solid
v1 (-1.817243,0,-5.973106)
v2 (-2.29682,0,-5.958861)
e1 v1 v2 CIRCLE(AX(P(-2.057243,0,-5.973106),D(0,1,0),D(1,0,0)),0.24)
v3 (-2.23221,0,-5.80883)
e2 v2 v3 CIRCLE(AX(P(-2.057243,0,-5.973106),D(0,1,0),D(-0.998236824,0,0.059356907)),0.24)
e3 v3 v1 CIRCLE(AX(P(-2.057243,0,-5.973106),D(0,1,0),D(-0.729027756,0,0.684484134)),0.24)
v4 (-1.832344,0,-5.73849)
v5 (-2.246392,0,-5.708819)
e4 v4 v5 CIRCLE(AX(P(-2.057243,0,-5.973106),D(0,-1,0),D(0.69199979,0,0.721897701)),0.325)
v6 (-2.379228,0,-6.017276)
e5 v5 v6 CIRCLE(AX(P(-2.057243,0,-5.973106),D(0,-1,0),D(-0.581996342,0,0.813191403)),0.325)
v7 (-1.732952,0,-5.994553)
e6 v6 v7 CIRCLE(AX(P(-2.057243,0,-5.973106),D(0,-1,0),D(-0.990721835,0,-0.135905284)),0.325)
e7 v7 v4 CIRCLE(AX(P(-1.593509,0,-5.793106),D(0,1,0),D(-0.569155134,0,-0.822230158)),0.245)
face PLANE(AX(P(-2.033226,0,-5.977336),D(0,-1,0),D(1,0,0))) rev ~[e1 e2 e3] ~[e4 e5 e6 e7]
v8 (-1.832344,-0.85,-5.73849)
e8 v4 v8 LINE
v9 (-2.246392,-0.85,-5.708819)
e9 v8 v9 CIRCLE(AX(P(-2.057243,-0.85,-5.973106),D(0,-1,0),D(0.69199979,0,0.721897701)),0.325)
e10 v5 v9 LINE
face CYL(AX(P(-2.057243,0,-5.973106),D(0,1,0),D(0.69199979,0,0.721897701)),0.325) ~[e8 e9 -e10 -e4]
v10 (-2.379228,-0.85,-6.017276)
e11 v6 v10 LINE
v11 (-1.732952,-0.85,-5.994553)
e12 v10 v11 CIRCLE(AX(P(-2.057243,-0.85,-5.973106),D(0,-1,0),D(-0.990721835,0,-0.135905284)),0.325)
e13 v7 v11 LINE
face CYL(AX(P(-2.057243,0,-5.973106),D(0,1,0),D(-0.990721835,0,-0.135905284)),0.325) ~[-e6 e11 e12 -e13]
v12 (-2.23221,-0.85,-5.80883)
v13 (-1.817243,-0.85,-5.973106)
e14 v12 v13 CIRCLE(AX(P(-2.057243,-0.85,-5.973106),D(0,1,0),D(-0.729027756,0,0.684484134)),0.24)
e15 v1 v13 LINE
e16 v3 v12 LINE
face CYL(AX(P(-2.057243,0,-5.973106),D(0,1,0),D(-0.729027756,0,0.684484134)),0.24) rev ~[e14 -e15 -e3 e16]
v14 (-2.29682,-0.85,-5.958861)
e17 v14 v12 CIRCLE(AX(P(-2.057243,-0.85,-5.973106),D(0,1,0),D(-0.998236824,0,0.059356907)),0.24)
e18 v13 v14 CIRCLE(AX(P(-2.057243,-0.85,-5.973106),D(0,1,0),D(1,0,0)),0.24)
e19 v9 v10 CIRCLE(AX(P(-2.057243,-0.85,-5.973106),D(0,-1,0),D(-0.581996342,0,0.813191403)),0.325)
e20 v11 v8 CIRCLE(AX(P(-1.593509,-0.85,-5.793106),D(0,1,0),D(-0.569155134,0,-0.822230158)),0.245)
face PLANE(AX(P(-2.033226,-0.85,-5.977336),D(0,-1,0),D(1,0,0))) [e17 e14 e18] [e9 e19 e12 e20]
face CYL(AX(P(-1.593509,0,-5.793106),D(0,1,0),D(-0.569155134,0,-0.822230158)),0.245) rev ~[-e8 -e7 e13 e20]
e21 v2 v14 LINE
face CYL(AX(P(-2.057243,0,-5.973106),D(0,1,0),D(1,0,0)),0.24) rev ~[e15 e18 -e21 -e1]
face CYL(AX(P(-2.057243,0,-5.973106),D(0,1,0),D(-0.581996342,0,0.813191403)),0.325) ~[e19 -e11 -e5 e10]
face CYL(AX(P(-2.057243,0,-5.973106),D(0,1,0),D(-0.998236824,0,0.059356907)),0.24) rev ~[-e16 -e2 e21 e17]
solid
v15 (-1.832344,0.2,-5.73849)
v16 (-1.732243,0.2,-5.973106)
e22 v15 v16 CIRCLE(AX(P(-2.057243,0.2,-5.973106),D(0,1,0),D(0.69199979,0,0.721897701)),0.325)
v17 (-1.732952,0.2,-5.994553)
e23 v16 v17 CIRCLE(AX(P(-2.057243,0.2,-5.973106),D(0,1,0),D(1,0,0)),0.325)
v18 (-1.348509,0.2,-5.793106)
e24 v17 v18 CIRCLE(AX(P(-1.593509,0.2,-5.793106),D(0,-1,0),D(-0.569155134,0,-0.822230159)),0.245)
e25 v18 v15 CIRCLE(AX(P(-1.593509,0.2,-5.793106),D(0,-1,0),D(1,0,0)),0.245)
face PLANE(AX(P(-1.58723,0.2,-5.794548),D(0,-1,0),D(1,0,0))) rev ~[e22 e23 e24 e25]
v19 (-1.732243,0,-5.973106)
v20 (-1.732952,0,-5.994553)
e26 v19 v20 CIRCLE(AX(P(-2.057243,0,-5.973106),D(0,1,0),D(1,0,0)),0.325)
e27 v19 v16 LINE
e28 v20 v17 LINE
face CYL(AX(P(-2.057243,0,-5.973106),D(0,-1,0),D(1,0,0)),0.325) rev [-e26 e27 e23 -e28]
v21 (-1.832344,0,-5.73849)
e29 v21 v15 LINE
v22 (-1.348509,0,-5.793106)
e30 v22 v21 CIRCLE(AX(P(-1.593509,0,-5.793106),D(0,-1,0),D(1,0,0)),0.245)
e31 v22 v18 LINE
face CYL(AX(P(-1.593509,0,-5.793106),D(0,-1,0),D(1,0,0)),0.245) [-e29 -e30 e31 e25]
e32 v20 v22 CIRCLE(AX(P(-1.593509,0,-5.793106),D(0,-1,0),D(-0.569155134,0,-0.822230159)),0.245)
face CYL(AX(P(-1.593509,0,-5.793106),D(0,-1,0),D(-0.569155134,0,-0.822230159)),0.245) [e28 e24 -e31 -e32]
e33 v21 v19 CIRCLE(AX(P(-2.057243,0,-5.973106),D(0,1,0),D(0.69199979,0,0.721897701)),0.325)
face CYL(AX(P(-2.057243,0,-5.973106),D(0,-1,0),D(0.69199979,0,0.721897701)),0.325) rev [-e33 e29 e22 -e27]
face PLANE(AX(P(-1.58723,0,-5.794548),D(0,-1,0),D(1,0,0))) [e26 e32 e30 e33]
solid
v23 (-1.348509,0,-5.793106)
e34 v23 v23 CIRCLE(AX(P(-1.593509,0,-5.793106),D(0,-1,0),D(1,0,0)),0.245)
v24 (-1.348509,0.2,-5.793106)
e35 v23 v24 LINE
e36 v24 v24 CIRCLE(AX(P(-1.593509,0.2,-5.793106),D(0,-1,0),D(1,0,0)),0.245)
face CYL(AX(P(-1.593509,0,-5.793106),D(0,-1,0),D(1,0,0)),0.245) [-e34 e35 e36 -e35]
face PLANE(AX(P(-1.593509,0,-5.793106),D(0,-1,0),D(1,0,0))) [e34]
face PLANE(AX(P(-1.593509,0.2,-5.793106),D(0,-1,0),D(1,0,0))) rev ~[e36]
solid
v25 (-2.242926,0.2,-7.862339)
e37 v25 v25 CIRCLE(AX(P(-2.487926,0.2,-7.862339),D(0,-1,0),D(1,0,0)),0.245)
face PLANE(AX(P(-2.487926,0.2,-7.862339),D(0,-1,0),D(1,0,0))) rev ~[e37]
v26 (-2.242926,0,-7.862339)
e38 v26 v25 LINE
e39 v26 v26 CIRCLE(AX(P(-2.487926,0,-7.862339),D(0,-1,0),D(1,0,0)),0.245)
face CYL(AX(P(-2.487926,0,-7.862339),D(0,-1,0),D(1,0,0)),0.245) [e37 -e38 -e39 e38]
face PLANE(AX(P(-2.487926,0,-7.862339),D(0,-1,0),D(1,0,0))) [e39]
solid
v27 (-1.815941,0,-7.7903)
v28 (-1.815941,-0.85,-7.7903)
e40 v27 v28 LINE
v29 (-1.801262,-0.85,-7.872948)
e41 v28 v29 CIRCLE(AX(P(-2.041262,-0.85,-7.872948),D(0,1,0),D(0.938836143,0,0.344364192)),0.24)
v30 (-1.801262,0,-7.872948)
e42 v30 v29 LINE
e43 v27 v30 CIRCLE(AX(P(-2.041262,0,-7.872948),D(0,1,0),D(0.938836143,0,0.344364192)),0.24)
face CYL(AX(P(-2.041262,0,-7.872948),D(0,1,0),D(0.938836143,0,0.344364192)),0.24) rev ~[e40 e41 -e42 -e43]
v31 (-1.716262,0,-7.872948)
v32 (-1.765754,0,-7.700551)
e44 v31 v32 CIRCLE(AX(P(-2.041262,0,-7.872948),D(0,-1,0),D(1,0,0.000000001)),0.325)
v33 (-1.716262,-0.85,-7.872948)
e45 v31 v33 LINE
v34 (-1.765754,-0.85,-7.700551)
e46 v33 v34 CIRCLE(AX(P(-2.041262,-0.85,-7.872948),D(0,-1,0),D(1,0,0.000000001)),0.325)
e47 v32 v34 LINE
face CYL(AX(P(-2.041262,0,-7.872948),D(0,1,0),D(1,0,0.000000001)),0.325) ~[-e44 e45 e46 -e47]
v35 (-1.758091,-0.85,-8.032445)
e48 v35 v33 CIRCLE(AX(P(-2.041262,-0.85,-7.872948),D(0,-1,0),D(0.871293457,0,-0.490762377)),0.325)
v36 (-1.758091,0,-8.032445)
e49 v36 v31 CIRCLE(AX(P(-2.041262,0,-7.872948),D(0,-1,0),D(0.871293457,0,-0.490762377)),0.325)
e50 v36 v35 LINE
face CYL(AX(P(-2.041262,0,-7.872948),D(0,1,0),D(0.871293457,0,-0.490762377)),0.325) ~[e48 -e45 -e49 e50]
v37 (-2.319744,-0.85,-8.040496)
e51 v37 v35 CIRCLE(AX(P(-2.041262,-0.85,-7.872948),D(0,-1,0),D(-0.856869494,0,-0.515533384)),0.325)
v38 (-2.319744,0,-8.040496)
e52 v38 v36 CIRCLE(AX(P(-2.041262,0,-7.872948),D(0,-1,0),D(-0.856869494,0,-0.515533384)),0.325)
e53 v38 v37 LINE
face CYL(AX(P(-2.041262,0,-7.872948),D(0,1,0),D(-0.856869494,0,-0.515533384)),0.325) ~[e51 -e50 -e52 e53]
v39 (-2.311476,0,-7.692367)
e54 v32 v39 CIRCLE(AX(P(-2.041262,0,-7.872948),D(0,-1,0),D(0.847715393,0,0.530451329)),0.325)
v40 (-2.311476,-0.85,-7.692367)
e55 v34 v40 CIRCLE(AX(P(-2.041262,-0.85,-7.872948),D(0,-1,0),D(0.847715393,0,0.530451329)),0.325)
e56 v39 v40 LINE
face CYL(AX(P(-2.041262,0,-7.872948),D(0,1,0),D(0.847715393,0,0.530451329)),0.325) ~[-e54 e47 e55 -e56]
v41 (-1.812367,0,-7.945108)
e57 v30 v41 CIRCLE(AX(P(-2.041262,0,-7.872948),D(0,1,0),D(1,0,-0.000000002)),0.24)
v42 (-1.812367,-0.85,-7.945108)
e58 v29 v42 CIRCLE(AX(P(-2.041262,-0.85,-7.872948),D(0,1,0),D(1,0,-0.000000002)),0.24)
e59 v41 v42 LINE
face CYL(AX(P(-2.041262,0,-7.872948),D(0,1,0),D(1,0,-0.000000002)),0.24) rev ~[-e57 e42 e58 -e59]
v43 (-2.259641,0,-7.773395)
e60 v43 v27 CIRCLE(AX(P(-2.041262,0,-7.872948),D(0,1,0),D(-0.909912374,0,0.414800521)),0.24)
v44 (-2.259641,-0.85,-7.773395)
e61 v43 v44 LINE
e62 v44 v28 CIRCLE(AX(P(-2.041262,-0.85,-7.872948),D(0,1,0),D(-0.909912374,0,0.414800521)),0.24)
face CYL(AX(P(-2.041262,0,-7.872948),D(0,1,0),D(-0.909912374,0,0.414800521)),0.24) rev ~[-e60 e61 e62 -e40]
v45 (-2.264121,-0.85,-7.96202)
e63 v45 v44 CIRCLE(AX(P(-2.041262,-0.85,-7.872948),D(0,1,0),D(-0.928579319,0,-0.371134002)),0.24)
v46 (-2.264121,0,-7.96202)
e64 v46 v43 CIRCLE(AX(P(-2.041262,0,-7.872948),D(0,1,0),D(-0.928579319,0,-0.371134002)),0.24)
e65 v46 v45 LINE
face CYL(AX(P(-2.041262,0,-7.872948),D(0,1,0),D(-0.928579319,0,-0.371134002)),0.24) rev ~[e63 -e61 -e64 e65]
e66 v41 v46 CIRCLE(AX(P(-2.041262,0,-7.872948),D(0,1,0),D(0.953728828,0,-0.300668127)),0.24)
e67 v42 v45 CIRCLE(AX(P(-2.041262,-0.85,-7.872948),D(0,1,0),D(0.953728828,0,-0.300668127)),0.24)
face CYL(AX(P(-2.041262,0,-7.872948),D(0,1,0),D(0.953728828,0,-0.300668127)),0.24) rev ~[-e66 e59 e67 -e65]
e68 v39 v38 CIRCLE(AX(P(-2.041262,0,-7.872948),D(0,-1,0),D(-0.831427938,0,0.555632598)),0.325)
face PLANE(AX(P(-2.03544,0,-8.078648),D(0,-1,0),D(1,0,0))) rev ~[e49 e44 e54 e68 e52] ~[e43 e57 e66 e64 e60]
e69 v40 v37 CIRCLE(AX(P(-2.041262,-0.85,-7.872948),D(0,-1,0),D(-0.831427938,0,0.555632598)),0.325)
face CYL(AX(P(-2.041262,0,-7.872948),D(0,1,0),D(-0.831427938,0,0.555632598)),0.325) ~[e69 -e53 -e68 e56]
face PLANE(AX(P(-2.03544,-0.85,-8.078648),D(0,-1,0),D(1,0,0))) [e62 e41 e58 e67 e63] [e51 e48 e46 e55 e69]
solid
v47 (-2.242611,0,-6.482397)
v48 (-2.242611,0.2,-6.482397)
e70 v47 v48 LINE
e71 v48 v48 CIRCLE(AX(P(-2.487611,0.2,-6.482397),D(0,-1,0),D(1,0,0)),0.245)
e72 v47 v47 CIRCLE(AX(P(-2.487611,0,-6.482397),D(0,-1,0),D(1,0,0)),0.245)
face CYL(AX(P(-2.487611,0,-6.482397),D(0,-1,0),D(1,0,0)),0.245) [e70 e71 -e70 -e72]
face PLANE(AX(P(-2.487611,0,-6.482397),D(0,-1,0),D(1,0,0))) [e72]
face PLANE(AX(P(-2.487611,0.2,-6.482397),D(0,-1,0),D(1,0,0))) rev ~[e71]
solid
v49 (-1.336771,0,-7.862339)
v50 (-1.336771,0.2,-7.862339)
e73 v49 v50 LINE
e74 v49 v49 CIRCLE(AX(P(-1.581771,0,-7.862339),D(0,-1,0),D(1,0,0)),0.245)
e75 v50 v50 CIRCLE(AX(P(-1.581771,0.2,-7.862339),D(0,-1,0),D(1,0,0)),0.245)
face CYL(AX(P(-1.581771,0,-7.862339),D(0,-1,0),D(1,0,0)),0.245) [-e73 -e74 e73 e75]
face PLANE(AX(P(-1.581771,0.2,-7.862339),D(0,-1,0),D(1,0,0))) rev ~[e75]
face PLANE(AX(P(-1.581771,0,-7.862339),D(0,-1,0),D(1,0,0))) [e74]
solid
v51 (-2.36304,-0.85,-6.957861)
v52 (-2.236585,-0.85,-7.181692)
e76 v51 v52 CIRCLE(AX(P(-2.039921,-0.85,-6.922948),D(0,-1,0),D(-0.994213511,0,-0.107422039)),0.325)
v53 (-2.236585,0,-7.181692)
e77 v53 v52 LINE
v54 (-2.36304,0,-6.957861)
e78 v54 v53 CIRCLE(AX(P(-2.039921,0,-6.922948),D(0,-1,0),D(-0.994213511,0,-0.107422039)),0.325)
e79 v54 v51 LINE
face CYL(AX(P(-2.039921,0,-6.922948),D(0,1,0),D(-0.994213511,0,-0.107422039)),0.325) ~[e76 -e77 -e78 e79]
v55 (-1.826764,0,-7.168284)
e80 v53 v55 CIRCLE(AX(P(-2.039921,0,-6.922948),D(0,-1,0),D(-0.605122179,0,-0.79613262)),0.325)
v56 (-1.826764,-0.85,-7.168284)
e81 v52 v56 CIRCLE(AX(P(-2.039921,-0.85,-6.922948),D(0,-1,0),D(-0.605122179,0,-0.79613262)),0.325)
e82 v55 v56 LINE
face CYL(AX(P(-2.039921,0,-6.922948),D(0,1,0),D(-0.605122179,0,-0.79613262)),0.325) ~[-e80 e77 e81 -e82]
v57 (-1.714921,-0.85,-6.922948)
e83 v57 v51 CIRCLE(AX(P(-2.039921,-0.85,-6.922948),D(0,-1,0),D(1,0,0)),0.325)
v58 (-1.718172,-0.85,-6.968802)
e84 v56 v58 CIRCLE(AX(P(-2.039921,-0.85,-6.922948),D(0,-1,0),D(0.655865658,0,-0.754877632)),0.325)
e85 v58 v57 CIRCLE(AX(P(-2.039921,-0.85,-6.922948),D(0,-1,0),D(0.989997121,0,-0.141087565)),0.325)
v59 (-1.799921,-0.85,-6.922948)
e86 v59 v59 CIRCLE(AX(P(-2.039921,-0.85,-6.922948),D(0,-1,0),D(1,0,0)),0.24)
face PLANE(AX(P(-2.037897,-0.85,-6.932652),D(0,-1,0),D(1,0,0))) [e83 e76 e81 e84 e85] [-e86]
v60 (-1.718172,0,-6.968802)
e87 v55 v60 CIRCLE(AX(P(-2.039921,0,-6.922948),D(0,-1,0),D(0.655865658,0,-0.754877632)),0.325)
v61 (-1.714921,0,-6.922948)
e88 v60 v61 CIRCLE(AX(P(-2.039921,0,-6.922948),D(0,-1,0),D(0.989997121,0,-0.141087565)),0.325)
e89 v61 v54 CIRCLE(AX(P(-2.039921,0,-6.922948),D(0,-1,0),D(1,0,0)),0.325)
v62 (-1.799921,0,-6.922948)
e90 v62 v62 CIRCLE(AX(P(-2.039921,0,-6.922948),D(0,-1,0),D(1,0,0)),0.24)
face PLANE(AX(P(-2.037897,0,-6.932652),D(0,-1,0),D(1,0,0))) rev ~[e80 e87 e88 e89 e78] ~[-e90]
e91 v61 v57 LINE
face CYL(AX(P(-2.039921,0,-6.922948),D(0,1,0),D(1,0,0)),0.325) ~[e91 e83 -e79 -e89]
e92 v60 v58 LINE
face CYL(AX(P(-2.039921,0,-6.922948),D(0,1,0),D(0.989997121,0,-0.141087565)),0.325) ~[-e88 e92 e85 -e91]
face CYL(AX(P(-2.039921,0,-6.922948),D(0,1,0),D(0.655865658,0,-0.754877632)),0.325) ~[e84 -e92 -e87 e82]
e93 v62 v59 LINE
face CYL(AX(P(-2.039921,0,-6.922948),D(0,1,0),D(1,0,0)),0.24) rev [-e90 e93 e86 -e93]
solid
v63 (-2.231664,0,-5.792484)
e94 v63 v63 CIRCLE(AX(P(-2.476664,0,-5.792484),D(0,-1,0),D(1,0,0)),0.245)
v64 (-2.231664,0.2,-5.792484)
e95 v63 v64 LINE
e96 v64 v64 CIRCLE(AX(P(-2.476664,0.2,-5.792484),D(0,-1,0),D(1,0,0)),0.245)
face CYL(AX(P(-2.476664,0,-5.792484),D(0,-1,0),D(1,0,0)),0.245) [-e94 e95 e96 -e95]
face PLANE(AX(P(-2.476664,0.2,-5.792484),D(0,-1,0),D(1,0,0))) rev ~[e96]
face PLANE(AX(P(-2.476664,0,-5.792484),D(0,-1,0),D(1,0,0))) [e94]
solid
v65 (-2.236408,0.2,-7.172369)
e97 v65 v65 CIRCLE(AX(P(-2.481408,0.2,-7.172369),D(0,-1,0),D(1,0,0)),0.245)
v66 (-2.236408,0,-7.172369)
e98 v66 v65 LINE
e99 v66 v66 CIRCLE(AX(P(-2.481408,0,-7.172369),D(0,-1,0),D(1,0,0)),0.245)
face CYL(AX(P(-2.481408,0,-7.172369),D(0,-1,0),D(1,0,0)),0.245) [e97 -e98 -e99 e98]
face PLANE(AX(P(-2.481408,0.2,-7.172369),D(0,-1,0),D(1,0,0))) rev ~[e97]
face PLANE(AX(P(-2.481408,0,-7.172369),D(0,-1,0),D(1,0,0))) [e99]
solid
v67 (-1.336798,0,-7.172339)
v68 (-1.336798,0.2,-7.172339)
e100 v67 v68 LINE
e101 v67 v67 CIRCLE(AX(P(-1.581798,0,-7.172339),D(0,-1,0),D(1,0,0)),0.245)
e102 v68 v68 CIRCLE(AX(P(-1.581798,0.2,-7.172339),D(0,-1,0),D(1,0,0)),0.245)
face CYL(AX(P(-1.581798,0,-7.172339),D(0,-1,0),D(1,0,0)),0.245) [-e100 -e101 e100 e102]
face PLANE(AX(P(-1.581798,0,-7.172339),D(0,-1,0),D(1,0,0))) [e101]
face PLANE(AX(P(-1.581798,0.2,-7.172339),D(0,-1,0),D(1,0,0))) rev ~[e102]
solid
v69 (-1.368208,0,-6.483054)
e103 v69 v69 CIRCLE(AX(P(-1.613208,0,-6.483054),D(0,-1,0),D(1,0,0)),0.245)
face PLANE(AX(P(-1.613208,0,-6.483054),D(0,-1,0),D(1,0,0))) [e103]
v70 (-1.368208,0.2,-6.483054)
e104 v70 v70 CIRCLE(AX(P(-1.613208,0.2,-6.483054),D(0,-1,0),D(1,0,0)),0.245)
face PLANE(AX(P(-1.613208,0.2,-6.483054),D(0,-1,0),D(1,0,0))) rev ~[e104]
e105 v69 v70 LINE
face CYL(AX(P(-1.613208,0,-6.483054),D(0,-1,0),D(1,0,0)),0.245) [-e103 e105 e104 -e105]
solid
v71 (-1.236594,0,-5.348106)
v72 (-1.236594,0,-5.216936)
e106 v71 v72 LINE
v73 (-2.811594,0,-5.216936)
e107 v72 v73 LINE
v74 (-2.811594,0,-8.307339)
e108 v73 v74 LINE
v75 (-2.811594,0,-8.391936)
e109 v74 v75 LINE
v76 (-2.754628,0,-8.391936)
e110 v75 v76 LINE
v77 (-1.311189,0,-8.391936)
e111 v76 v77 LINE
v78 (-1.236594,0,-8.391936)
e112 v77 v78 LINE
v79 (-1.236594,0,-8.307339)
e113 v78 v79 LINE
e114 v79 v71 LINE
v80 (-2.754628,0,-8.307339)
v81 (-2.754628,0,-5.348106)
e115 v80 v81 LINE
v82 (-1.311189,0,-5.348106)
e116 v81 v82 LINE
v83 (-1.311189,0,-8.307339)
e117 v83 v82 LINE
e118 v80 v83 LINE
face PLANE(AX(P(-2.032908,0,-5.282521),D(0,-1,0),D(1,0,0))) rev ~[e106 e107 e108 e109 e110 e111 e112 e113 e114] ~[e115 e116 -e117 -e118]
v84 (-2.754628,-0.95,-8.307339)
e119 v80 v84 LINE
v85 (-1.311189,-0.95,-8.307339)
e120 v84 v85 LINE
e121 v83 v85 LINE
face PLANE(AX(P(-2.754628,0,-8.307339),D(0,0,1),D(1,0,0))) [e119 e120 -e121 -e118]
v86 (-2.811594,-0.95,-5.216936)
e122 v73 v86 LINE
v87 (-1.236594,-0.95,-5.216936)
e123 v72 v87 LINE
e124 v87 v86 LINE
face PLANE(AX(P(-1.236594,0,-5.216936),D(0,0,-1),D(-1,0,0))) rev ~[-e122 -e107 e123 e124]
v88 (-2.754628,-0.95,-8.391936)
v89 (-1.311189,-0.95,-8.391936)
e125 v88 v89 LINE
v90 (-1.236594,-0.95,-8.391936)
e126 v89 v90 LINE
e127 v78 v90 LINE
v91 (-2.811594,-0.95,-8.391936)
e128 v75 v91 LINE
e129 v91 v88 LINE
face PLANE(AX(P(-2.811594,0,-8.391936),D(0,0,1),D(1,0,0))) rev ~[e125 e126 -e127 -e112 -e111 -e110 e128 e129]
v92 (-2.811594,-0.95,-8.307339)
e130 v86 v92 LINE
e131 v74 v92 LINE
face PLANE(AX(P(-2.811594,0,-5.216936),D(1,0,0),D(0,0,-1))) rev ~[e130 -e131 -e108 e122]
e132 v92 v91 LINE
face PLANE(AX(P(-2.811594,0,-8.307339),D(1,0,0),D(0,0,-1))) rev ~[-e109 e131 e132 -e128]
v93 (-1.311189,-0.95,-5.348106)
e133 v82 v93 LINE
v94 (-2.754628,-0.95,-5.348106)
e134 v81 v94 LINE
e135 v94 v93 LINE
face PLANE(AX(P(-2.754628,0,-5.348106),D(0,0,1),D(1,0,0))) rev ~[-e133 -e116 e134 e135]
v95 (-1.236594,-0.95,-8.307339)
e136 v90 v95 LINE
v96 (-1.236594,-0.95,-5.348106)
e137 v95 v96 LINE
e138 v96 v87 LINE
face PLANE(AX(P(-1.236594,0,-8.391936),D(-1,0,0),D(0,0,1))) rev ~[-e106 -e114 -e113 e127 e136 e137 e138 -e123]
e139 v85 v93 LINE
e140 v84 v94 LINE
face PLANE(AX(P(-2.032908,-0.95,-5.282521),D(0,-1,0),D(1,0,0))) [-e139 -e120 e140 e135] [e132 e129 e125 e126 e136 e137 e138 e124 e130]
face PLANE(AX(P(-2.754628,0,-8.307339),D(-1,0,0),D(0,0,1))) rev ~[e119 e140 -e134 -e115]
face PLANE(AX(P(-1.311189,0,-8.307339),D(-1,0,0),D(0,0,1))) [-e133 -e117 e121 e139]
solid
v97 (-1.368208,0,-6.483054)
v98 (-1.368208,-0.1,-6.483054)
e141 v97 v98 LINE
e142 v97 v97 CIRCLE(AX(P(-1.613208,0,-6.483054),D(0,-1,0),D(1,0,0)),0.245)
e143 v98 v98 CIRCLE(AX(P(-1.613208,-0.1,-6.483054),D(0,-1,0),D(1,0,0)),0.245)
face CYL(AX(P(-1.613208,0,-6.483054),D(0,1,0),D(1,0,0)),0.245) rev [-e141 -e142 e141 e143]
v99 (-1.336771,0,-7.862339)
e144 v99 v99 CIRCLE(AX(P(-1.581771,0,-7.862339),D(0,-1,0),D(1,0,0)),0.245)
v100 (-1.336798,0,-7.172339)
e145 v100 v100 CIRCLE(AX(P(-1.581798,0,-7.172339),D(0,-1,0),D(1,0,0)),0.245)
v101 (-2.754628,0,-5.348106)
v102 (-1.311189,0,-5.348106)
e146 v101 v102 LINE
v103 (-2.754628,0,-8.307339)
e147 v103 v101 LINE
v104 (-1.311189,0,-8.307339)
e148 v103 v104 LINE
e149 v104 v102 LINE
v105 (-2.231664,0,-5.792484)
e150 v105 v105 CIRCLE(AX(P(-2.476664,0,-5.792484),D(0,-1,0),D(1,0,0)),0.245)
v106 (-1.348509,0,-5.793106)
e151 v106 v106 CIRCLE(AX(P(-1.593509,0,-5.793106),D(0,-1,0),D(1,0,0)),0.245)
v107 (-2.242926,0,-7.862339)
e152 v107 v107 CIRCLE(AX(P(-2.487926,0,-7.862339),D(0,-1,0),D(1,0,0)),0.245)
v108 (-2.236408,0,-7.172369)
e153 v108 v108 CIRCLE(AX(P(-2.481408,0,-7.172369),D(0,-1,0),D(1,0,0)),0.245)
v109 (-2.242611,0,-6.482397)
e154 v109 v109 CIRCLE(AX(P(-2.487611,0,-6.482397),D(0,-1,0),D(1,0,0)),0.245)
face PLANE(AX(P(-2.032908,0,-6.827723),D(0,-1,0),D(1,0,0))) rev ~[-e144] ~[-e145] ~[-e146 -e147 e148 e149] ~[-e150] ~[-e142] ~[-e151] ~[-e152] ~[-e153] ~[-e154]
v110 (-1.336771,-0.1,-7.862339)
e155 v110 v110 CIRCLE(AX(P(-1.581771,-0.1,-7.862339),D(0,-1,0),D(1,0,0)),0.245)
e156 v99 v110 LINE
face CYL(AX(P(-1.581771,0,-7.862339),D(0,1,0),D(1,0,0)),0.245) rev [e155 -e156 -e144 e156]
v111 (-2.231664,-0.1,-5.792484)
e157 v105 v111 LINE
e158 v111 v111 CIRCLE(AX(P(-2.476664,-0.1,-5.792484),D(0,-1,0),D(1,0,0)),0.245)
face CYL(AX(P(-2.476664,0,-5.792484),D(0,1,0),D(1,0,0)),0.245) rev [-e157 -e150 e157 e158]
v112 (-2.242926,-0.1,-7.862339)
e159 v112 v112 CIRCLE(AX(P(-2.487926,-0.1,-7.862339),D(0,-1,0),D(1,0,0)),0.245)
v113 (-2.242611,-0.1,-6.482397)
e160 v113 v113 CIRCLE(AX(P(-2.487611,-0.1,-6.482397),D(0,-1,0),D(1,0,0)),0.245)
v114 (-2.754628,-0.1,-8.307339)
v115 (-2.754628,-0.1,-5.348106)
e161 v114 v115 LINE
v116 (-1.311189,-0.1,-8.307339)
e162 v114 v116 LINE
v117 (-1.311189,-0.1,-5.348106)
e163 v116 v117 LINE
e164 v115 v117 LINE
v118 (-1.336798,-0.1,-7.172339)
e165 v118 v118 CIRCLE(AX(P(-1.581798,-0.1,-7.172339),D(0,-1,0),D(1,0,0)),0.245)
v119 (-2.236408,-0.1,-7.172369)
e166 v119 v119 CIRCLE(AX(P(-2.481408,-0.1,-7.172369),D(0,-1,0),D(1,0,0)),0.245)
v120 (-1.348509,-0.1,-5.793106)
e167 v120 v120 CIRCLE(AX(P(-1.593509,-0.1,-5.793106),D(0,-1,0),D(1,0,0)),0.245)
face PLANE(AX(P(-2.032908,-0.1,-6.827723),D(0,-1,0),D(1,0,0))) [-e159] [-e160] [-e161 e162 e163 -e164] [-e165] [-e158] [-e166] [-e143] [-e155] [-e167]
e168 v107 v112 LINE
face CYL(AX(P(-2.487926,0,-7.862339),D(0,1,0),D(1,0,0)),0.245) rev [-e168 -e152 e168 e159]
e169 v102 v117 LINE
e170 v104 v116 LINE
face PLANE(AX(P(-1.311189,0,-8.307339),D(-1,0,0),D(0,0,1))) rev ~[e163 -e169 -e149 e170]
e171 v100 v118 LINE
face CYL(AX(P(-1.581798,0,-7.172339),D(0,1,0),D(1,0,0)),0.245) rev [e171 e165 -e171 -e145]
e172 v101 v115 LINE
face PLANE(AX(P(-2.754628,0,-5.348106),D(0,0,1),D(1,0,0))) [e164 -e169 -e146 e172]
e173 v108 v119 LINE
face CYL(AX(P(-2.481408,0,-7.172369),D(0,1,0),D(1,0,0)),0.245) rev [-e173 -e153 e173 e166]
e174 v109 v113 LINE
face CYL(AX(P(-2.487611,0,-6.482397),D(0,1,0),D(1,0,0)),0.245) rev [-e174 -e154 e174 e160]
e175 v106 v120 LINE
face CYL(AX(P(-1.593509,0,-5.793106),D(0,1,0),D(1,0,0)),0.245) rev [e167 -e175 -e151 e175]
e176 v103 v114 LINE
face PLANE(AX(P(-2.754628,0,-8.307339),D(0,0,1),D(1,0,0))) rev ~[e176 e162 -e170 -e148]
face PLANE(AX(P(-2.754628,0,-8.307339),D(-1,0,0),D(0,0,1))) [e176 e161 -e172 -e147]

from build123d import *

# Parameters (mm, degrees)
F0_W     = 1.443438814
F0_H     = 0.1311709134
F0_W_2   = 0.0569663659
F0_H_2   = 0.0845968217
F0_H_3   = 2.9592322649
F0_W_3   = 0.0745948201
F2_DEPTH = 0.95
F0_R     = 0.245
F3_DEPTH = 0.1
F4_DEPTH = 0.2
F5_DEPTH = 0.85
F1_R     = 0.24


with BuildPart() as f2:
    # F0 (on Front) → F2 (new body)
    with BuildSketch(Plane.XZ):
        with Locations((-2.03290832, -5.2825209706)):
            Rectangle(F0_W, F0_H)
        with Locations((-2.7831109099, -5.2825209706)):
            Rectangle(F0_W_2, F0_H)
        Polygon((-1.2365940929, -5.2169355139), (-1.311188913, -5.2169355139), (-1.2365940929, -5.3481064273), align=None)
        Polygon((-1.2365940929, -5.3481064273), (-1.311188913, -5.2169355139), (-1.311188913, -5.3481064273), align=None)
        Polygon((-1.2365940929, -8.3919355139), (-1.2365940929, -8.3073386922), (-1.311188913, -8.3919355139), align=None)
        Polygon((-1.2365940929, -8.3073386922), (-1.311188913, -8.3073386922), (-1.311188913, -8.3919355139), align=None)
        Polygon((-2.754627727, -8.3919355139), (-2.8115940929, -8.3073386922), (-2.8115940929, -8.3919355139), align=None)
        with Locations((-2.03290832, -8.3496371031)):
            Rectangle(F0_W, F0_H_2)
        Polygon((-2.754627727, -8.3073386922), (-2.8115940929, -8.3073386922), (-2.754627727, -8.3919355139), align=None)
        with Locations((-2.7831109099, -6.8277225598)):
            Rectangle(F0_W_2, F0_H_3)
        with Locations((-1.2738915029, -6.8277225598)):
            Rectangle(F0_W_3, F0_H_3)
    extrude(amount=F2_DEPTH)


with BuildPart() as f3:
    # F0 (on Front) → F3 (new body)
    with BuildSketch(Plane.XZ):
        with Locations((-2.03290832, -6.8277225598)):
            Rectangle(F0_W, F0_H_3)
        with Locations((-2.4879257899, -7.8623386922)):
            Circle(F0_R, mode=Mode.SUBTRACT)
        with Locations((-2.4814080831, -7.1723694759)):
            Circle(F0_R, mode=Mode.SUBTRACT)
        with Locations((-1.5817713412, -7.8623386922)):
            Circle(F0_R, mode=Mode.SUBTRACT)
        with Locations((-1.5817980101, -7.1723386928)):
            Circle(F0_R, mode=Mode.SUBTRACT)
        with Locations((-2.4876111003, -6.4823973587)):
            Circle(F0_R, mode=Mode.SUBTRACT)
        with Locations((-2.47666426, -5.7924841999)):
            Circle(F0_R, mode=Mode.SUBTRACT)
        with Locations((-1.6132080927, -6.4830539862)):
            Circle(F0_R, mode=Mode.SUBTRACT)
        with Locations((-1.5935088741, -5.7931064273)):
            Circle(F0_R, mode=Mode.SUBTRACT)
    extrude(amount=F3_DEPTH)


with BuildPart() as f4:
    # F0 (on Front) → F4 (new body)
    with BuildSketch(Plane.XZ):
        with Locations((-1.5817713412, -7.8623386922)):
            Circle(F0_R)
    extrude(amount=-F4_DEPTH)


with BuildPart() as f4b:
    # F0 (on Front) → F4, piece 2 (new body)
    with BuildSketch(Plane.XZ):
        with Locations((-2.4879257899, -7.8623386922)):
            Circle(F0_R)
    extrude(amount=-F4_DEPTH)


with BuildPart() as f4c:
    # F0 (on Front) → F4, piece 3 (new body)
    with BuildSketch(Plane.XZ):
        with Locations((-2.4814080831, -7.1723694759)):
            Circle(F0_R)
    extrude(amount=-F4_DEPTH)


with BuildPart() as f4d:
    # F0 (on Front) → F4, piece 4 (new body)
    with BuildSketch(Plane.XZ):
        with Locations((-1.5817980101, -7.1723386928)):
            Circle(F0_R)
    extrude(amount=-F4_DEPTH)


with BuildPart() as f4e:
    # F0 (on Front) → F4, piece 5 (new body)
    with BuildSketch(Plane.XZ):
        with Locations((-1.6132080927, -6.4830539862)):
            Circle(F0_R)
    extrude(amount=-F4_DEPTH)


with BuildPart() as f4f:
    # F0 (on Front) → F4, piece 6 (new body)
    with BuildSketch(Plane.XZ):
        with Locations((-2.4876111003, -6.4823973587)):
            Circle(F0_R)
    extrude(amount=-F4_DEPTH)


with BuildPart() as f4g:
    # F0 (on Front) → F4, piece 7 (new body)
    with BuildSketch(Plane.XZ):
        with Locations((-2.47666426, -5.7924841999)):
            Circle(F0_R)
    extrude(amount=-F4_DEPTH)


with BuildPart() as f4h:
    # F0 (on Front) → F4, piece 8 (new body)
    with BuildSketch(Plane.XZ):
        with Locations((-1.5935088741, -5.7931064273)):
            Circle(F0_R)
    extrude(amount=-F4_DEPTH)


with BuildPart() as f4i:
    # F1 (on face) → F4, piece 9 (new body)
    with BuildSketch(Plane.XZ):
        with BuildLine():
            ThreePointArc((-1.8323435665, -5.7384896745), (-1.7583141773, -5.8455671742), (-1.7322434982, -5.9731064273))
            ThreePointArc((-1.7322434982, -5.9731064273), (-1.7324206424, -5.9838354697), (-1.7329518819, -5.9945528162))
            ThreePointArc((-1.7329518819, -5.9945528162), (-1.4797954996, -6.0101185663), (-1.3485088741, -5.7931064273))
            ThreePointArc((-1.3485088741, -5.7931064273), (-1.5660270587, -5.5496526333), (-1.8323435665, -5.7384896745))
        make_face()
    extrude(amount=-F4_DEPTH)


with BuildPart() as f5:
    # F1 (on face) → F5 (new body)
    with BuildSketch(Plane.XZ):
        with BuildLine():
            ThreePointArc((-2.3197442943, -8.0404958828), (-2.0366037275, -8.1979141516), (-1.7580913349, -8.0324453054))
            ThreePointArc((-1.7580913349, -8.0324453054), (-1.7898626689, -7.9916561287), (-1.81236679, -7.9451078835))
            ThreePointArc((-1.81236679, -7.9451078835), (-2.0322833849, -8.1127795361), (-2.2641207454, -7.9620196935))
            ThreePointArc((-2.2641207454, -7.9620196935), (-2.2880433495, -8.0040144135), (-2.3197442943, -8.0404958828))
        make_face()
        with BuildLine():
            ThreePointArc((-2.2596406784, -7.7733954079), (-2.2815425757, -7.7303122976), (-2.3114757886, -7.6923669387))
            ThreePointArc((-2.3114757886, -7.6923669387), (-2.3661700775, -7.8652305455), (-2.3197442943, -8.0404958828))
            ThreePointArc((-2.3197442943, -8.0404958828), (-2.2880433495, -8.0040144135), (-2.2641207454, -7.9620196935))
            ThreePointArc((-2.2641207454, -7.9620196935), (-2.2811940426, -7.8672488345), (-2.2596406784, -7.7733954079))
        make_face()
        with BuildLine():
            ThreePointArc((-1.8159410343, -7.7903001272), (-1.7956091852, -7.7427628733), (-1.7657542059, -7.7005508512))
            ThreePointArc((-1.7657542059, -7.7005508512), (-2.0363883949, -7.5479840723), (-2.3114757886, -7.6923669387))
            ThreePointArc((-2.3114757886, -7.6923669387), (-2.2815425757, -7.7303122976), (-2.2596406784, -7.7733954079))
            ThreePointArc((-2.2596406784, -7.7733954079), (-2.0321244662, -7.6331215319), (-1.8159410343, -7.7903001272))
        make_face()
        with BuildLine():
            ThreePointArc((-1.7580913349, -8.0324453054), (-1.7268929988, -7.9553933592), (-1.7162617087, -7.872947533))
            ThreePointArc((-1.7162617087, -7.872947533), (-1.7288797803, -7.7832673747), (-1.7657542059, -7.7005508512))
            ThreePointArc((-1.7657542059, -7.7005508512), (-1.7956091852, -7.7427628733), (-1.8159410343, -7.7903001272))
            ThreePointArc((-1.8159410343, -7.7903001272), (-1.8049600351, -7.8309770783), (-1.8012617087, -7.872947533))
            ThreePointArc((-1.8012617087, -7.872947533), (-1.8040542252, -7.9094524608), (-1.81236679, -7.9451078835))
            ThreePointArc((-1.81236679, -7.9451078835), (-1.7898626689, -7.9916561287), (-1.7580913349, -8.0324453054))
        make_face()
    extrude(amount=F5_DEPTH)


with BuildPart() as f5b:
    # F1 (on face) → F5, piece 2 (new body)
    with BuildSketch(Plane.XZ):
        with BuildLine():
            ThreePointArc((-1.7181717257, -6.9688019401), (-1.7157345425, -6.945932759), (-1.7149207897, -6.9229484794))
            ThreePointArc((-1.7149207897, -6.9229484794), (-2.0574021784, -6.5984189722), (-2.3630401807, -6.9578606423))
            ThreePointArc((-2.3630401807, -6.9578606423), (-2.270428065, -7.047820562), (-2.2364080831, -7.1723694759))
            ThreePointArc((-2.2364080831, -7.1723694759), (-2.2364524408, -7.1770313725), (-2.2365854976, -7.181691581))
            ThreePointArc((-2.2365854976, -7.181691581), (-2.029293644, -7.2477746849), (-1.8267644509, -7.1682837097))
            ThreePointArc((-1.8267644509, -7.1682837097), (-1.7969800791, -7.05519913), (-1.7181717257, -6.9688019401))
        make_face()
        with Locations((-2.0399207897, -6.9229484794)):
            Circle(F1_R, mode=Mode.SUBTRACT)
        with BuildLine():
            ThreePointArc((-2.2364080831, -7.1723694759), (-2.270428065, -7.047820562), (-2.3630401807, -6.9578606423))
            ThreePointArc((-2.3630401807, -6.9578606423), (-2.3228853629, -7.0828110776), (-2.2365854976, -7.181691581))
            ThreePointArc((-2.2365854976, -7.181691581), (-2.2364524408, -7.1770313725), (-2.2364080831, -7.1723694759))
        make_face()
        with BuildLine():
            ThreePointArc((-1.8267644509, -7.1682837097), (-1.7544751879, -7.0783376953), (-1.7181717257, -6.9688019401))
            ThreePointArc((-1.7181717257, -6.9688019401), (-1.7969800791, -7.05519913), (-1.8267644509, -7.1682837097))
        make_face()
    extrude(amount=F5_DEPTH)


with BuildPart() as f5c:
    # F1 (on face) → F5, piece 3 (new body)
    with BuildSketch(Plane.XZ):
        with BuildLine():
            ThreePointArc((-1.7329518819, -5.9945528162), (-1.8219067457, -5.8817597535), (-1.8323435665, -5.7384896745))
            ThreePointArc((-1.8323435665, -5.7384896745), (-2.0340137843, -5.6489376744), (-2.2463923092, -5.7088192212))
            ThreePointArc((-2.2463923092, -5.7088192212), (-2.2353743639, -5.7500084889), (-2.23166426, -5.7924841999))
            ThreePointArc((-2.23166426, -5.7924841999), (-2.231800773, -5.800661774), (-2.2322101598, -5.8088302351))
            ThreePointArc((-2.2322101598, -5.8088302351), (-1.9689032434, -5.7499562551), (-1.8172434982, -5.9731064273))
            ThreePointArc((-1.8172434982, -5.9731064273), (-2.0643694688, -6.2130006135), (-2.2968203361, -5.9588607698))
            ThreePointArc((-2.2968203361, -5.9588607698), (-2.3349810345, -5.9923613211), (-2.3792280945, -6.0172756446))
            ThreePointArc((-2.3792280945, -6.0172756446), (-2.0458236769, -6.297905731), (-1.7329518819, -5.9945528162))
        make_face()
        with BuildLine():
            ThreePointArc((-2.23166426, -5.7924841999), (-2.2353743639, -5.7500084889), (-2.2463923092, -5.7088192212))
            ThreePointArc((-2.2463923092, -5.7088192212), (-2.3557408705, -5.8445594759), (-2.3792280945, -6.0172756446))
            ThreePointArc((-2.3792280945, -6.0172756446), (-2.3349810345, -5.9923613211), (-2.2968203361, -5.9588607698))
            ThreePointArc((-2.2968203361, -5.9588607698), (-2.277672327, -5.8781794478), (-2.2322101598, -5.8088302351))
            ThreePointArc((-2.2322101598, -5.8088302351), (-2.231800773, -5.800661774), (-2.23166426, -5.7924841999))
        make_face()
    extrude(amount=F5_DEPTH)


solid = Compound([f2.part, f3.part, f4.part, f4b.part, f4c.part, f4d.part, f4e.part, f4f.part, f4g.part, f4h.part, f4i.part, f5.part, f5b.part, f5c.part])
